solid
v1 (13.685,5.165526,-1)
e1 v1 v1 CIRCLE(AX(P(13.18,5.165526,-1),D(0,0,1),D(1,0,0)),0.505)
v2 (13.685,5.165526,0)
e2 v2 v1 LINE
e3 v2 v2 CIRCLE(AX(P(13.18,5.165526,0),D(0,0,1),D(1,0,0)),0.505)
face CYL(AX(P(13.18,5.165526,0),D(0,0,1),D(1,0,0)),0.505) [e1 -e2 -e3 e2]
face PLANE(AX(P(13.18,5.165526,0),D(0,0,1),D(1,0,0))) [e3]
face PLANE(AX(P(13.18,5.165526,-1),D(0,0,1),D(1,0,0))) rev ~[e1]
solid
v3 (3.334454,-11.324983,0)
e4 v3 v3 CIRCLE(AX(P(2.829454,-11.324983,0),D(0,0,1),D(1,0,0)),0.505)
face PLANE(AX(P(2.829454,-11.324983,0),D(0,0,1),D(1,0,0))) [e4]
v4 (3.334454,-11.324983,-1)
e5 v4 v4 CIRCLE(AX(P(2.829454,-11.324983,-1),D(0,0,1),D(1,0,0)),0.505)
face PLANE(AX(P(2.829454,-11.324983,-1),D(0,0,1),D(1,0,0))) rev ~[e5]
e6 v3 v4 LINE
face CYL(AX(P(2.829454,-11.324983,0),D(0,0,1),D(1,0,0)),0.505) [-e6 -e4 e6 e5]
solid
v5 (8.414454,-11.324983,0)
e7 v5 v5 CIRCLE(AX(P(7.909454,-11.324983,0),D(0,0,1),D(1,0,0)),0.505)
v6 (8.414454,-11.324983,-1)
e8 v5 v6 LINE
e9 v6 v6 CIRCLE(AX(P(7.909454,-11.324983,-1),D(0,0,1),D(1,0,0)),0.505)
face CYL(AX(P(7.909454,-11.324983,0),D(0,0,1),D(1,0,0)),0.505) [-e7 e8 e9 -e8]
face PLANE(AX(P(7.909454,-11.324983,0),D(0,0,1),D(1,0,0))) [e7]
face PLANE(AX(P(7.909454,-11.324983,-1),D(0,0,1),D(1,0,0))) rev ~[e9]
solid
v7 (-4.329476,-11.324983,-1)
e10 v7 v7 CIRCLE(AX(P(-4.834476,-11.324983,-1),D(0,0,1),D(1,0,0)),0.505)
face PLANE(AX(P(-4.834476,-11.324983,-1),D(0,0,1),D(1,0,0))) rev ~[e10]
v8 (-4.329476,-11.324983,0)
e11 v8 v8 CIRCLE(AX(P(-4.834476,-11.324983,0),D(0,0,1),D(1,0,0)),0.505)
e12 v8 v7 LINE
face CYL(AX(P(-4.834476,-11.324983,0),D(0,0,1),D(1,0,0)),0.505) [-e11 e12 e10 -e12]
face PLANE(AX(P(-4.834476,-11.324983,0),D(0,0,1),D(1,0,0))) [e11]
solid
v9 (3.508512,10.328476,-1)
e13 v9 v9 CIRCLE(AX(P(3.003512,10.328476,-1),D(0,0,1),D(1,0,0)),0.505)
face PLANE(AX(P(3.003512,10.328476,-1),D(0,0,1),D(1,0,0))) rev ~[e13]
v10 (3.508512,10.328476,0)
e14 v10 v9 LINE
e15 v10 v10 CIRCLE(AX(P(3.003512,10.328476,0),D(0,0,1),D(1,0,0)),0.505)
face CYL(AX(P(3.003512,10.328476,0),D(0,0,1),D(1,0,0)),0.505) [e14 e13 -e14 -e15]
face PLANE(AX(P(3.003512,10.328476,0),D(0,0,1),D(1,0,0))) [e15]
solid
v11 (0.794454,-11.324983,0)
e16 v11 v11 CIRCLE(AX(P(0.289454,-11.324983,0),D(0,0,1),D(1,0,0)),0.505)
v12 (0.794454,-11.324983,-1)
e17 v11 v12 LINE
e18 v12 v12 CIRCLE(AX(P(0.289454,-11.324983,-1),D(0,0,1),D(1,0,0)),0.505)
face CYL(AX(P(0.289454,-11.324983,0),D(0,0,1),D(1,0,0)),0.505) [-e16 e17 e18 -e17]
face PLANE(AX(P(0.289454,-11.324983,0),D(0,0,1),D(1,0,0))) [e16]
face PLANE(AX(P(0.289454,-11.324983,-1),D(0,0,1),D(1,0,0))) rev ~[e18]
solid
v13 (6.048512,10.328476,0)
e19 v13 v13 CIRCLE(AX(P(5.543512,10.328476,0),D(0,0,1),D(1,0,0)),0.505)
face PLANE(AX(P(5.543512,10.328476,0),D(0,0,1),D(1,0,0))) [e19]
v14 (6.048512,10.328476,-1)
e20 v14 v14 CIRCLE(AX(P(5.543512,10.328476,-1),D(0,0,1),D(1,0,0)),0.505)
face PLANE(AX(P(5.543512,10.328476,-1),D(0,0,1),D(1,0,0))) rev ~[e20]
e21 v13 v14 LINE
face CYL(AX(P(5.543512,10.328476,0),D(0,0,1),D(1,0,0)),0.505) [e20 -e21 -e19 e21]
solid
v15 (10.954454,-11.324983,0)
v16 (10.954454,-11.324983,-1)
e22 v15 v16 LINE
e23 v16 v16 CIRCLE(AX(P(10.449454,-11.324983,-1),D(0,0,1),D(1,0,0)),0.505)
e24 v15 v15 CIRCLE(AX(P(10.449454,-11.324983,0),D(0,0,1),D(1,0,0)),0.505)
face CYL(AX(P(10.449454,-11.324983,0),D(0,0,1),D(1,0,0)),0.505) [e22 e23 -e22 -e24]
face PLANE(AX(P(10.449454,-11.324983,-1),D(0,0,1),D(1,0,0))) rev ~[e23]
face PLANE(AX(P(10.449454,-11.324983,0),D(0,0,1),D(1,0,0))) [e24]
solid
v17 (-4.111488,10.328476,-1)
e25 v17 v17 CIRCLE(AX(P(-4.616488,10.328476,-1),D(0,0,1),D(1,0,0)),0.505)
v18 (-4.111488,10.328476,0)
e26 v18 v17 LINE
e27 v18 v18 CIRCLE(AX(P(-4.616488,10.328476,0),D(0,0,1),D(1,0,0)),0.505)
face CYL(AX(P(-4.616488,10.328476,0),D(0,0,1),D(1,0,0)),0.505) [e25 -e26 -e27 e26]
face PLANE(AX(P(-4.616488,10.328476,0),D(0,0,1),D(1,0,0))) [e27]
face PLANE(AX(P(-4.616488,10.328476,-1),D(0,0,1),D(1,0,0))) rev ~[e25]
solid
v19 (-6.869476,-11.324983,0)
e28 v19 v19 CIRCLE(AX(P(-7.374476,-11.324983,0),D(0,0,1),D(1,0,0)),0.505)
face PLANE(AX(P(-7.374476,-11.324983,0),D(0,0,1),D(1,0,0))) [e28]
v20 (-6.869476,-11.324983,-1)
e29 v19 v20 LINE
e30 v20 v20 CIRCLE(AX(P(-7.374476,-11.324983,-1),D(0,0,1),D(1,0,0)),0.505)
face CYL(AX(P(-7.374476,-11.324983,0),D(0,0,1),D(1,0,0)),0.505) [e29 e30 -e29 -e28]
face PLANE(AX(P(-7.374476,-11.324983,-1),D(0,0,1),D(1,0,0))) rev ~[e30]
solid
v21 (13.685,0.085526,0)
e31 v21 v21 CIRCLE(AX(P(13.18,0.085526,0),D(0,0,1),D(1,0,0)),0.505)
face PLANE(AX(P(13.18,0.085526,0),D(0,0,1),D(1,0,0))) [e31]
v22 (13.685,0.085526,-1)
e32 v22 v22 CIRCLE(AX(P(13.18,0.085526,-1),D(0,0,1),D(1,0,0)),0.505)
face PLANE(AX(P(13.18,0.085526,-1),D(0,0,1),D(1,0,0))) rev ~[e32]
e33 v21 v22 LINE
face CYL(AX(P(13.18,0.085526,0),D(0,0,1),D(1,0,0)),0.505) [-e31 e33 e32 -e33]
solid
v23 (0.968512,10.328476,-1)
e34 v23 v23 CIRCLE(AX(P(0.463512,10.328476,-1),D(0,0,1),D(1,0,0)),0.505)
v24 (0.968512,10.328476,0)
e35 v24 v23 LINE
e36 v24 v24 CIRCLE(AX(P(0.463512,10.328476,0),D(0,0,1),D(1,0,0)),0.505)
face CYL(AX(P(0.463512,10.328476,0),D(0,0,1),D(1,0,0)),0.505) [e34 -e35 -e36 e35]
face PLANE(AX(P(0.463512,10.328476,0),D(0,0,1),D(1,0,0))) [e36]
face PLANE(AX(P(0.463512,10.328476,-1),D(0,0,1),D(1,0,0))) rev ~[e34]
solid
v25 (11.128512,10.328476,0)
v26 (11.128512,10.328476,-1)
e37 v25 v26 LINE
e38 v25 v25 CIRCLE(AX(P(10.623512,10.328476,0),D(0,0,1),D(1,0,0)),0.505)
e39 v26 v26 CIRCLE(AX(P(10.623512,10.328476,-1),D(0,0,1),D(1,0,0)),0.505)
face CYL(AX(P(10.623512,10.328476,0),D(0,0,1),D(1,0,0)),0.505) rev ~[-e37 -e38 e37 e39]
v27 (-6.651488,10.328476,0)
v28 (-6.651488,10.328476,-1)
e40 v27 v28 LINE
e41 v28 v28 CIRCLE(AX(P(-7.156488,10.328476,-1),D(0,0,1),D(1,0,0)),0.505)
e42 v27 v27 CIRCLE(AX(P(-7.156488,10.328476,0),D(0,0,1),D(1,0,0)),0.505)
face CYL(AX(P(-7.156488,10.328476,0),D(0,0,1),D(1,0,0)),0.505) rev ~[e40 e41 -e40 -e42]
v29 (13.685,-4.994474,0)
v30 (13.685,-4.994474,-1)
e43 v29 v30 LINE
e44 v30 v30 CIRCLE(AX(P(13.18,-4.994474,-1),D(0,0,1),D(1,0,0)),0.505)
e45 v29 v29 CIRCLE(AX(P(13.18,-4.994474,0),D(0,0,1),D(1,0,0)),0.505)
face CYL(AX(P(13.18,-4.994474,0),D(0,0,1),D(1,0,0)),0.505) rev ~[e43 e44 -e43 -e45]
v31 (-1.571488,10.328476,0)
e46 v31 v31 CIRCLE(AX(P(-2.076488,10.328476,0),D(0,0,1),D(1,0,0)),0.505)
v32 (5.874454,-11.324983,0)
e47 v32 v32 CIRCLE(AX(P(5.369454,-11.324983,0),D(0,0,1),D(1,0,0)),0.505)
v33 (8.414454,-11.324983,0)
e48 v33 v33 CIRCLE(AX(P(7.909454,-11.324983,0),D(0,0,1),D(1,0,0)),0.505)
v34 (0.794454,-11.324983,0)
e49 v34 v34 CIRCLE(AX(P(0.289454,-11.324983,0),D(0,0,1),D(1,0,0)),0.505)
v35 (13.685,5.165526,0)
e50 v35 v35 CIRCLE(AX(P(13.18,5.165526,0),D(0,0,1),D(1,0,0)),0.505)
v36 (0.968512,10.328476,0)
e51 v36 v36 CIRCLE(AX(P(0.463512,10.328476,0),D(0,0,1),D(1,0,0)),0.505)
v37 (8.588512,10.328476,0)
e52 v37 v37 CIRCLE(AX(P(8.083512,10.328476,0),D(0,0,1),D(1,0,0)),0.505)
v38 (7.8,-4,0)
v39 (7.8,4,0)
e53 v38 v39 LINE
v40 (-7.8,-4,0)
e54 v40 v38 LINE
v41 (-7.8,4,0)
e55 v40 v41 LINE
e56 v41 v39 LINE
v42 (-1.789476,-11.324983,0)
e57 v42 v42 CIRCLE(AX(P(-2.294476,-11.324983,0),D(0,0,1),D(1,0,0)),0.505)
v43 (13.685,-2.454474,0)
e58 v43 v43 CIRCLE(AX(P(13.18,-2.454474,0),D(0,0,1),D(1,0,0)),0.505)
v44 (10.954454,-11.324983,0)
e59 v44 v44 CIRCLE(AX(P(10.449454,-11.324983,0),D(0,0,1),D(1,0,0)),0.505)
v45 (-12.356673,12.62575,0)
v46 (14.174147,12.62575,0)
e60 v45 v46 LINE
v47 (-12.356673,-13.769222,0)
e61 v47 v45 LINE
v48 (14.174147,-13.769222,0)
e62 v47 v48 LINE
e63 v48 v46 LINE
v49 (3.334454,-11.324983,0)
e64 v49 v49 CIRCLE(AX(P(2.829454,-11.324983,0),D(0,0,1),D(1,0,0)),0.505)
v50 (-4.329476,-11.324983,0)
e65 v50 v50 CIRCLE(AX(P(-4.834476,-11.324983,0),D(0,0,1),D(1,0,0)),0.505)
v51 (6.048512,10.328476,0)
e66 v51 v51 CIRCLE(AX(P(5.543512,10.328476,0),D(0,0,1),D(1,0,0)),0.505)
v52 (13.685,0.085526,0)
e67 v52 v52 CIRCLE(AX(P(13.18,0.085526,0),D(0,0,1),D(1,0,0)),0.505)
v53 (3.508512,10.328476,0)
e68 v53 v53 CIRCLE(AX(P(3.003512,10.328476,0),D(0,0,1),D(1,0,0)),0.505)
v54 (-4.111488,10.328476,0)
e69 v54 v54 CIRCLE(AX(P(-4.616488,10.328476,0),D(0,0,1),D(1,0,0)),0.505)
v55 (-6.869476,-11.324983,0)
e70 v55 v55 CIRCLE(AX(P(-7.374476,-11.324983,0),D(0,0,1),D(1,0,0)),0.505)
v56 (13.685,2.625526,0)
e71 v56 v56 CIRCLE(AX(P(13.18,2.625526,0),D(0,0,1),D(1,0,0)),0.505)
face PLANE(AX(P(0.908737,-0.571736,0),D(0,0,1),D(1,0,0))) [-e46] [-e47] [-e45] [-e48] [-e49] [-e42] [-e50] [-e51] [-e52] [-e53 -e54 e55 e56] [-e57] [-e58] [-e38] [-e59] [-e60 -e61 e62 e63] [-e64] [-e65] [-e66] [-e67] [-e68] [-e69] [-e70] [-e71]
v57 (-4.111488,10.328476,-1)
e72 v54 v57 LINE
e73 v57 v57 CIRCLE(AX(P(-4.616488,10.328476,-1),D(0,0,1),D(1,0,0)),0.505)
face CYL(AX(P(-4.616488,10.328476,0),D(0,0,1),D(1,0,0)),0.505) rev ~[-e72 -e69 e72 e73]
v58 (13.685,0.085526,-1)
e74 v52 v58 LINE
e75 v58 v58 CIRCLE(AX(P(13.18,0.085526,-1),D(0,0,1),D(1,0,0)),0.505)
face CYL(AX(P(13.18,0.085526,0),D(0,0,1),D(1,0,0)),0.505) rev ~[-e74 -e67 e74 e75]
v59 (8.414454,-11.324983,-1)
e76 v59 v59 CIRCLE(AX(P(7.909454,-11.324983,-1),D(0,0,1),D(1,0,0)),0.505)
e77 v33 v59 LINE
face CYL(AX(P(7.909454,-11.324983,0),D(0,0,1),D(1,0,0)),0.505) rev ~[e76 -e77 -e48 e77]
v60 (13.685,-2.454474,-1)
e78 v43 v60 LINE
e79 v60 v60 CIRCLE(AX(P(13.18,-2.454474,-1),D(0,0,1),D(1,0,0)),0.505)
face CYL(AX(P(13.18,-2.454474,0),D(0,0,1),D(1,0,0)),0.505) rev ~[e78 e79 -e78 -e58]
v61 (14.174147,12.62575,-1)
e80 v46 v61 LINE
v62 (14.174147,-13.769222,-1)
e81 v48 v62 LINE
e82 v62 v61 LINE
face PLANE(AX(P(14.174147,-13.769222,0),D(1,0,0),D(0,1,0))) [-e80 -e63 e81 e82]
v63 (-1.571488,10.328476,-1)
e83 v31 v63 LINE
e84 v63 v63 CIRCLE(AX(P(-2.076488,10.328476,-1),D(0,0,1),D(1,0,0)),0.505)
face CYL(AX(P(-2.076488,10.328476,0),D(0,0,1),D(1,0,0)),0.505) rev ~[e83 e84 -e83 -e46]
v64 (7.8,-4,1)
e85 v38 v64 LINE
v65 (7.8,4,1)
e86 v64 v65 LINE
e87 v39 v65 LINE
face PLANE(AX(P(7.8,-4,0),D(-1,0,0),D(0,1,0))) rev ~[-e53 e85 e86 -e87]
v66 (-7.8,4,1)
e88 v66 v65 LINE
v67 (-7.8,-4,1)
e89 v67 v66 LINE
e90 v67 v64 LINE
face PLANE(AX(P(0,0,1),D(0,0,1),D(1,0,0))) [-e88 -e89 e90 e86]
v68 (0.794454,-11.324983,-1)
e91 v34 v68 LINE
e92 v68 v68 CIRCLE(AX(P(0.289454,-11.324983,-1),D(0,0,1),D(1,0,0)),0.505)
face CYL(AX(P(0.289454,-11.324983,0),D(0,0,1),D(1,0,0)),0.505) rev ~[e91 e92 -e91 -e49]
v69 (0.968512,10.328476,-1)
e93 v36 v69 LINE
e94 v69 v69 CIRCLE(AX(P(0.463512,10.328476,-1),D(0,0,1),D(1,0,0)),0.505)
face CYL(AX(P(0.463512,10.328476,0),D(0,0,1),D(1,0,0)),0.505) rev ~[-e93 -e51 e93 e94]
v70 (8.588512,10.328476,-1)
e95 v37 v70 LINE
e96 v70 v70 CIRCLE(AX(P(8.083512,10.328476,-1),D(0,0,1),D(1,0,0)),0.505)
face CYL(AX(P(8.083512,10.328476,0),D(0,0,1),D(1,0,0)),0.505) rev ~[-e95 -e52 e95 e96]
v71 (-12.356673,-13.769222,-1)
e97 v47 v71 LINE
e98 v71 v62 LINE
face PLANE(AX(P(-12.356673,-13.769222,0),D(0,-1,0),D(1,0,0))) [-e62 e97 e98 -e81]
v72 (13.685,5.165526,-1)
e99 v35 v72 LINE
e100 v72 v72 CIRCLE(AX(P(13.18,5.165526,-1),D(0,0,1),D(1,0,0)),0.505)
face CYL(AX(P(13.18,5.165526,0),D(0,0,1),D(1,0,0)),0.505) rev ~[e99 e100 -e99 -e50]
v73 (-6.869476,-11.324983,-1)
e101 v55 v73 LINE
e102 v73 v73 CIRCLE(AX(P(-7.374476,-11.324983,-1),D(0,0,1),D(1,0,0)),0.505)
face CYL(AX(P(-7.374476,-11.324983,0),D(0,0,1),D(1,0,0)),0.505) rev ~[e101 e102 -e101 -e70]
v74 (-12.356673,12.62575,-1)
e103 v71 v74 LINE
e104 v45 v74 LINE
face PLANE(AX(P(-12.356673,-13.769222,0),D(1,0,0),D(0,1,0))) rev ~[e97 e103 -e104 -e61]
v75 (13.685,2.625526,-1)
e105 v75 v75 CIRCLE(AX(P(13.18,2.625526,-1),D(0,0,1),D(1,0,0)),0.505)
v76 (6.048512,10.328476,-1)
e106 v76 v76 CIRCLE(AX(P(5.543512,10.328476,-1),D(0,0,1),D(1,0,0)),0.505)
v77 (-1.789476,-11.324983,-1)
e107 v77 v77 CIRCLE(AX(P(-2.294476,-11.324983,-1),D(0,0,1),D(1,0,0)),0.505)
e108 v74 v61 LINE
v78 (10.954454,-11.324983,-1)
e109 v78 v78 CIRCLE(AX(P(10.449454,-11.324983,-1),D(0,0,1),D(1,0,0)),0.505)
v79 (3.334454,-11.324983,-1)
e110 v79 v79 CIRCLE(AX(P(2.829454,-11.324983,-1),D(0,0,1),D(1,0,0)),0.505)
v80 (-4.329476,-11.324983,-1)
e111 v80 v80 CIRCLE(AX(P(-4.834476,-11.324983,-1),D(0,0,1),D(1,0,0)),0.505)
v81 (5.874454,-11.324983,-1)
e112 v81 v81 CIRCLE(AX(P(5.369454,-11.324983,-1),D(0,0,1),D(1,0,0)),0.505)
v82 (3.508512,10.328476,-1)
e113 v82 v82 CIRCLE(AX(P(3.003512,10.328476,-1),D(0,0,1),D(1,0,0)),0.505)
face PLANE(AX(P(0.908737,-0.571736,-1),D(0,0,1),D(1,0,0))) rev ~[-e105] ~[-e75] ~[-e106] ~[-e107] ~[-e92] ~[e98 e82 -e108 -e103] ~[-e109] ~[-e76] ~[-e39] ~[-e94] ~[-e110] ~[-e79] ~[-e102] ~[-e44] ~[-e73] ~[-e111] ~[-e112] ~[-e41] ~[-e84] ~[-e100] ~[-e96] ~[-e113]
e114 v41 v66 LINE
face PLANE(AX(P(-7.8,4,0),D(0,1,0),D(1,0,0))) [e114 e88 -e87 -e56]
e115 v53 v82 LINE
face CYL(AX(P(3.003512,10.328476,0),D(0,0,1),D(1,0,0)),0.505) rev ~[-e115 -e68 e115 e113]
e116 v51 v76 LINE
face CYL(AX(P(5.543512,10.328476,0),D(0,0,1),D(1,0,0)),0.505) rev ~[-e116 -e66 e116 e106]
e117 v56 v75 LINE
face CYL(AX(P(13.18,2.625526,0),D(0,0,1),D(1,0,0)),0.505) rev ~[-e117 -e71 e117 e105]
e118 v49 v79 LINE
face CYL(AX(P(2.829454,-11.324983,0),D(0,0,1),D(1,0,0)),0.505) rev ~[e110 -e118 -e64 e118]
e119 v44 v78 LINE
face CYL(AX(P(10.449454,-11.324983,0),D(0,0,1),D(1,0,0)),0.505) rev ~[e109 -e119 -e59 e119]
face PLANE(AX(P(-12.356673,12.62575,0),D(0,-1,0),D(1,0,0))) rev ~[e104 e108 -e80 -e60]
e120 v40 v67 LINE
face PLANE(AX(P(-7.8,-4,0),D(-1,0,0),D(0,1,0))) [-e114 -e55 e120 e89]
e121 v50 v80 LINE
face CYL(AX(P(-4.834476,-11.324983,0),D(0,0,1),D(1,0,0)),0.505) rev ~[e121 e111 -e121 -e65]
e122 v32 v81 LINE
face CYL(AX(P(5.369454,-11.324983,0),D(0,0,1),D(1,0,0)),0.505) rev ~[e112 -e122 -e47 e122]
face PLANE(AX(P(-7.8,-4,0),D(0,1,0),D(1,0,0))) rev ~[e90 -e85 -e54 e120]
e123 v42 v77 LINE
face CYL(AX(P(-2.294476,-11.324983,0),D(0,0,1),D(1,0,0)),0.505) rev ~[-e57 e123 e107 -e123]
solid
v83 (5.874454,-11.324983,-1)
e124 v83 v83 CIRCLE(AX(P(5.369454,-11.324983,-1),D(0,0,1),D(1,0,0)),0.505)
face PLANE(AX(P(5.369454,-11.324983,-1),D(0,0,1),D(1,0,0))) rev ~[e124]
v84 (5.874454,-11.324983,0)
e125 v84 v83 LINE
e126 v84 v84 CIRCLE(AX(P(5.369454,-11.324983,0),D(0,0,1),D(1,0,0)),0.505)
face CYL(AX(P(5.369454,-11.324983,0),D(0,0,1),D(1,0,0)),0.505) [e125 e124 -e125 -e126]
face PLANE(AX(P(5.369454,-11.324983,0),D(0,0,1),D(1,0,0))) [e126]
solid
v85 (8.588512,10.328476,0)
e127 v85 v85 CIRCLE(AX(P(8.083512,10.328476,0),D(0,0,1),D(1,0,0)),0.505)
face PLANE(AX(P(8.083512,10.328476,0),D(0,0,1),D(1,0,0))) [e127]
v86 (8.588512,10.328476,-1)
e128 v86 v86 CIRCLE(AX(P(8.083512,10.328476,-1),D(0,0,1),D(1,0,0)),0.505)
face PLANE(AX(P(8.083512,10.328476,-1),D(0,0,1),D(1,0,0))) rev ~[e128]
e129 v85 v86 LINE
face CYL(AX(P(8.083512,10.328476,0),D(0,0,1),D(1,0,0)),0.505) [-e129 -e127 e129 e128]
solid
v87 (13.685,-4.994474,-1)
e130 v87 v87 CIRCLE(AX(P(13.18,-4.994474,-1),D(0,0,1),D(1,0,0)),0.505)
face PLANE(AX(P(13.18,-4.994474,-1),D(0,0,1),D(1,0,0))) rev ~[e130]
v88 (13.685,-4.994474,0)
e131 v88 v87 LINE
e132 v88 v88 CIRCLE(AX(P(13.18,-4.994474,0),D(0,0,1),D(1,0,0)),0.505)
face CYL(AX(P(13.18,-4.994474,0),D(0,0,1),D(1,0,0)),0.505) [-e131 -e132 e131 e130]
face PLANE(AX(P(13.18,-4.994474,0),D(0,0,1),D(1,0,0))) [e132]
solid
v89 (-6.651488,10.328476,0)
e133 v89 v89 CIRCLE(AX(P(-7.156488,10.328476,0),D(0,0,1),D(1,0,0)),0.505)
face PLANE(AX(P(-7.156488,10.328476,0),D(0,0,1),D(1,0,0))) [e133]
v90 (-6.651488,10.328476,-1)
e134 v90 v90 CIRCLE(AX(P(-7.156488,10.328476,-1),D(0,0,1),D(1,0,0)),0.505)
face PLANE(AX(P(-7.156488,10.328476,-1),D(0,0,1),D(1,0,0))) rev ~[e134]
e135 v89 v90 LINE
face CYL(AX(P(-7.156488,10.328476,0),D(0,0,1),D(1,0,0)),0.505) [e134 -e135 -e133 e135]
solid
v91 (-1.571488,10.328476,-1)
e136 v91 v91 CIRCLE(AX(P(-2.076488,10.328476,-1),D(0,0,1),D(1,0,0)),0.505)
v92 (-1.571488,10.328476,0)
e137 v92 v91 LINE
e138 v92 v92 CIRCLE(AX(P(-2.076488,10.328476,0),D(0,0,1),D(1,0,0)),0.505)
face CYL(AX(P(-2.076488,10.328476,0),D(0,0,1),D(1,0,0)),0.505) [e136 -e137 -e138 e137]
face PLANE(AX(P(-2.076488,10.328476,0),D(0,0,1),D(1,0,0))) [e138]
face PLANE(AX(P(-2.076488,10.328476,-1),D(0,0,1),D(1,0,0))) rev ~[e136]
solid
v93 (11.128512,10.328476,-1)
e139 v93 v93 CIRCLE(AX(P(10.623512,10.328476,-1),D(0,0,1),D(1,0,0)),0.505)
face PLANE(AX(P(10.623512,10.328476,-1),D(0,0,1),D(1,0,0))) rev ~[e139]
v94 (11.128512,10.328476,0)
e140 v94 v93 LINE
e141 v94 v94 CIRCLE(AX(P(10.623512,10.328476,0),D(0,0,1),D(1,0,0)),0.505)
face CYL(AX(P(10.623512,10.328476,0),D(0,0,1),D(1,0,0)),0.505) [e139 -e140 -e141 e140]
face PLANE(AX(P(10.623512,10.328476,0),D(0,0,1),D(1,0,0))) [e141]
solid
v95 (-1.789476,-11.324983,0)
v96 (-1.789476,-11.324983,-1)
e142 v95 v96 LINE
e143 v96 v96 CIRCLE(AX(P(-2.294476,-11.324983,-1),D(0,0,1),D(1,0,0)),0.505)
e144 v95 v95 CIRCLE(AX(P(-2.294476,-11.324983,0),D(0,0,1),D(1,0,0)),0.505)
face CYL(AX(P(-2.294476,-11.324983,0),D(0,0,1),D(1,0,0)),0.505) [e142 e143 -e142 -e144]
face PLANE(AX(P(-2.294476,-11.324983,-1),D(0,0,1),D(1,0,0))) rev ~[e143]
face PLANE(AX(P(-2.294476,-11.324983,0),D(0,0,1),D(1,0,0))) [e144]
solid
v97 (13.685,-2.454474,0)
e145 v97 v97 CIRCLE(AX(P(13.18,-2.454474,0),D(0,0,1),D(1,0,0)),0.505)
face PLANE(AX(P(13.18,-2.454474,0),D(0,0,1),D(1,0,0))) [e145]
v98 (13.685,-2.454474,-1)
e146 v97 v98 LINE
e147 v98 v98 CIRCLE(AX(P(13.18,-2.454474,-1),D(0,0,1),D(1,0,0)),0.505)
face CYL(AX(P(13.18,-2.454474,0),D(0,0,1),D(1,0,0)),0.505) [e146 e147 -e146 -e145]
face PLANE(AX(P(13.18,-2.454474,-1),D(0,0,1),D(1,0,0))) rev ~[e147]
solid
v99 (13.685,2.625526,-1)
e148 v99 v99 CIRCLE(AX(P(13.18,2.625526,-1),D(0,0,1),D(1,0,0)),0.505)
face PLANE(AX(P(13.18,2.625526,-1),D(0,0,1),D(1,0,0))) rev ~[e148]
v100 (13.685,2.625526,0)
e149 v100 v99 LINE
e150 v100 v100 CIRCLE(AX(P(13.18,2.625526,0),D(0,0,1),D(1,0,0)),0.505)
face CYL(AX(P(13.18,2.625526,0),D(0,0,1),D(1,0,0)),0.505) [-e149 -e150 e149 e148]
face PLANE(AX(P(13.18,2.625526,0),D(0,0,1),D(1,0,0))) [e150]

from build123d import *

# Parameters (mm, degrees)
SKETCH1_W              = 26.530820631
SKETCH1_H              = 26.394972577
BOSS_EXTRUDE1_DEPTH    = 1
SKETCH1_4_R            = 0.505
CUT_EXTRUDE1_DEPTH     = 1
SKETCH1_3_R            = 0.505
BOSS_EXTRUDE2_DEPTH    = 1
BOSS_EXTRUDE2_2_DEPTH  = 1
BOSS_EXTRUDE2_3_DEPTH  = 1
BOSS_EXTRUDE2_4_DEPTH  = 1
BOSS_EXTRUDE2_5_DEPTH  = 1
BOSS_EXTRUDE2_6_DEPTH  = 1
BOSS_EXTRUDE2_7_DEPTH  = 1
BOSS_EXTRUDE2_8_DEPTH  = 1
BOSS_EXTRUDE2_9_DEPTH  = 1
BOSS_EXTRUDE2_10_DEPTH = 1
BOSS_EXTRUDE2_11_DEPTH = 1
BOSS_EXTRUDE2_12_DEPTH = 1
BOSS_EXTRUDE2_13_DEPTH = 1
BOSS_EXTRUDE2_14_DEPTH = 1
BOSS_EXTRUDE2_15_DEPTH = 1
BOSS_EXTRUDE2_16_DEPTH = 1
BOSS_EXTRUDE2_17_DEPTH = 1
BOSS_EXTRUDE2_18_DEPTH = 1
BOSS_EXTRUDE2_19_DEPTH = 1
BOSS_EXTRUDE2_20_DEPTH = 1
BOSS_EXTRUDE2_21_DEPTH = 1
SKETCH1_5_W            = 15.6
SKETCH1_5_H            = 8
BOSS_EXTRUDE3_DEPTH    = 1


with BuildPart() as part:
    # Sketch1 → Boss-Extrude1 (new body)
    with BuildSketch(Plane.XY):
        with Locations((0.908737179, -0.571736137)):
            Rectangle(SKETCH1_W, SKETCH1_H)
    extrude(amount=-BOSS_EXTRUDE1_DEPTH)

    # Sketch1<4> → Cut-Extrude1 (cut)
    with BuildSketch(Plane.XY):
        with Locations((-7.156488425, 10.328476252)):
            Circle(SKETCH1_4_R)
        with Locations((-4.616488425, 10.328476252)):
            Circle(SKETCH1_4_R)
        with Locations((-2.076488425, 10.328476252)):
            Circle(SKETCH1_4_R)
        with Locations((0.463511575, 10.328476252)):
            Circle(SKETCH1_4_R)
        with Locations((3.003511575, 10.328476252)):
            Circle(SKETCH1_4_R)
        with Locations((5.543511575, 10.328476252)):
            Circle(SKETCH1_4_R)
        with Locations((8.083511575, 10.328476252)):
            Circle(SKETCH1_4_R)
        with Locations((10.623511575, 10.328476252)):
            Circle(SKETCH1_4_R)
        with Locations((13.18, 5.165525757)):
            Circle(SKETCH1_4_R)
        with Locations((13.18, 0.085525757)):
            Circle(SKETCH1_4_R)
        with Locations((13.18, -2.454474243)):
            Circle(SKETCH1_4_R)
        with Locations((13.18, -4.994474243)):
            Circle(SKETCH1_4_R)
        with Locations((10.449453775, -11.324983341)):
            Circle(SKETCH1_4_R)
        with Locations((7.909453775, -11.324983341)):
            Circle(SKETCH1_4_R)
        with Locations((5.369453775, -11.324983341)):
            Circle(SKETCH1_4_R)
        with Locations((2.829453775, -11.324983341)):
            Circle(SKETCH1_4_R)
        with Locations((0.289453775, -11.324983341)):
            Circle(SKETCH1_4_R)
        with Locations((-4.834476083, -11.324983341)):
            Circle(SKETCH1_4_R)
        with Locations((-7.374476083, -11.324983341)):
            Circle(SKETCH1_4_R)
        with Locations((13.18, 2.625525757)):
            Circle(SKETCH1_4_R)
        with Locations((-2.294476083, -11.324983341)):
            Circle(SKETCH1_4_R)
    extrude(amount=-CUT_EXTRUDE1_DEPTH, mode=Mode.SUBTRACT)

    # Sketch1<5> → Boss-Extrude3 (add)
    with BuildSketch(Plane.XY):
        Rectangle(SKETCH1_5_W, SKETCH1_5_H)
    extrude(amount=BOSS_EXTRUDE3_DEPTH)


with BuildPart() as body_2:
    # Sketch1<3> → Boss-Extrude2 (new body)
    with BuildSketch(Plane.XY):
        with Locations((-7.156488425, 10.328476252)):
            Circle(SKETCH1_3_R)
    extrude(amount=-BOSS_EXTRUDE2_DEPTH)


with BuildPart() as body_3:
    # Sketch1<3> → Boss-Extrude2 2 (new body)
    with BuildSketch(Plane.XY):
        with Locations((-4.616488425, 10.328476252)):
            Circle(SKETCH1_3_R)
    extrude(amount=-BOSS_EXTRUDE2_2_DEPTH)


with BuildPart() as body_4:
    # Sketch1<3> → Boss-Extrude2 3 (new body)
    with BuildSketch(Plane.XY):
        with Locations((0.463511575, 10.328476252)):
            Circle(SKETCH1_3_R)
    extrude(amount=-BOSS_EXTRUDE2_3_DEPTH)


with BuildPart() as body_5:
    # Sketch1<3> → Boss-Extrude2 4 (new body)
    with BuildSketch(Plane.XY):
        with Locations((3.003511575, 10.328476252)):
            Circle(SKETCH1_3_R)
    extrude(amount=-BOSS_EXTRUDE2_4_DEPTH)


with BuildPart() as body_6:
    # Sketch1<3> → Boss-Extrude2 5 (new body)
    with BuildSketch(Plane.XY):
        with Locations((5.543511575, 10.328476252)):
            Circle(SKETCH1_3_R)
    extrude(amount=-BOSS_EXTRUDE2_5_DEPTH)


with BuildPart() as body_7:
    # Sketch1<3> → Boss-Extrude2 6 (new body)
    with BuildSketch(Plane.XY):
        with Locations((8.083511575, 10.328476252)):
            Circle(SKETCH1_3_R)
    extrude(amount=-BOSS_EXTRUDE2_6_DEPTH)


with BuildPart() as body_8:
    # Sketch1<3> → Boss-Extrude2 7 (new body)
    with BuildSketch(Plane.XY):
        with Locations((10.623511575, 10.328476252)):
            Circle(SKETCH1_3_R)
    extrude(amount=-BOSS_EXTRUDE2_7_DEPTH)


with BuildPart() as body_9:
    # Sketch1<3> → Boss-Extrude2 8 (new body)
    with BuildSketch(Plane.XY):
        with Locations((13.18, 5.165525757)):
            Circle(SKETCH1_3_R)
    extrude(amount=-BOSS_EXTRUDE2_8_DEPTH)


with BuildPart() as body_10:
    # Sketch1<3> → Boss-Extrude2 9 (new body)
    with BuildSketch(Plane.XY):
        with Locations((13.18, -2.454474243)):
            Circle(SKETCH1_3_R)
    extrude(amount=-BOSS_EXTRUDE2_9_DEPTH)


with BuildPart() as body_11:
    # Sketch1<3> → Boss-Extrude2 10 (new body)
    with BuildSketch(Plane.XY):
        with Locations((13.18, -4.994474243)):
            Circle(SKETCH1_3_R)
    extrude(amount=-BOSS_EXTRUDE2_10_DEPTH)


with BuildPart() as body_12:
    # Sketch1<3> → Boss-Extrude2 11 (new body)
    with BuildSketch(Plane.XY):
        with Locations((-7.374476083, -11.324983341)):
            Circle(SKETCH1_3_R)
    extrude(amount=-BOSS_EXTRUDE2_11_DEPTH)


with BuildPart() as body_13:
    # Sketch1<3> → Boss-Extrude2 12 (new body)
    with BuildSketch(Plane.XY):
        with Locations((-2.294476083, -11.324983341)):
            Circle(SKETCH1_3_R)
    extrude(amount=-BOSS_EXTRUDE2_12_DEPTH)


with BuildPart() as body_14:
    # Sketch1<3> → Boss-Extrude2 13 (new body)
    with BuildSketch(Plane.XY):
        with Locations((0.289453775, -11.324983341)):
            Circle(SKETCH1_3_R)
    extrude(amount=-BOSS_EXTRUDE2_13_DEPTH)


with BuildPart() as body_15:
    # Sketch1<3> → Boss-Extrude2 14 (new body)
    with BuildSketch(Plane.XY):
        with Locations((2.829453775, -11.324983341)):
            Circle(SKETCH1_3_R)
    extrude(amount=-BOSS_EXTRUDE2_14_DEPTH)


with BuildPart() as body_16:
    # Sketch1<3> → Boss-Extrude2 15 (new body)
    with BuildSketch(Plane.XY):
        with Locations((7.909453775, -11.324983341)):
            Circle(SKETCH1_3_R)
    extrude(amount=-BOSS_EXTRUDE2_15_DEPTH)


with BuildPart() as body_17:
    # Sketch1<3> → Boss-Extrude2 16 (new body)
    with BuildSketch(Plane.XY):
        with Locations((10.449453775, -11.324983341)):
            Circle(SKETCH1_3_R)
    extrude(amount=-BOSS_EXTRUDE2_16_DEPTH)


with BuildPart() as body_18:
    # Sketch1<3> → Boss-Extrude2 17 (new body)
    with BuildSketch(Plane.XY):
        with Locations((-2.076488425, 10.328476252)):
            Circle(SKETCH1_3_R)
    extrude(amount=-BOSS_EXTRUDE2_17_DEPTH)


with BuildPart() as body_19:
    # Sketch1<3> → Boss-Extrude2 18 (new body)
    with BuildSketch(Plane.XY):
        with Locations((13.18, 2.625525757)):
            Circle(SKETCH1_3_R)
    extrude(amount=-BOSS_EXTRUDE2_18_DEPTH)


with BuildPart() as body_20:
    # Sketch1<3> → Boss-Extrude2 19 (new body)
    with BuildSketch(Plane.XY):
        with Locations((13.18, 0.085525757)):
            Circle(SKETCH1_3_R)
    extrude(amount=-BOSS_EXTRUDE2_19_DEPTH)


with BuildPart() as body_21:
    # Sketch1<3> → Boss-Extrude2 20 (new body)
    with BuildSketch(Plane.XY):
        with Locations((-4.834476083, -11.324983341)):
            Circle(SKETCH1_3_R)
    extrude(amount=-BOSS_EXTRUDE2_20_DEPTH)


with BuildPart() as body_22:
    # Sketch1<3> → Boss-Extrude2 21 (new body)
    with BuildSketch(Plane.XY):
        with Locations((5.369453775, -11.324983341)):
            Circle(SKETCH1_3_R)
    extrude(amount=-BOSS_EXTRUDE2_21_DEPTH)


solid = Compound([part.part, body_2.part, body_3.part, body_4.part, body_5.part, body_6.part, body_7.part, body_8.part, body_9.part, body_10.part, body_11.part, body_12.part, body_13.part, body_14.part, body_15.part, body_16.part, body_17.part, body_18.part, body_19.part, body_20.part, body_21.part, body_22.part])
